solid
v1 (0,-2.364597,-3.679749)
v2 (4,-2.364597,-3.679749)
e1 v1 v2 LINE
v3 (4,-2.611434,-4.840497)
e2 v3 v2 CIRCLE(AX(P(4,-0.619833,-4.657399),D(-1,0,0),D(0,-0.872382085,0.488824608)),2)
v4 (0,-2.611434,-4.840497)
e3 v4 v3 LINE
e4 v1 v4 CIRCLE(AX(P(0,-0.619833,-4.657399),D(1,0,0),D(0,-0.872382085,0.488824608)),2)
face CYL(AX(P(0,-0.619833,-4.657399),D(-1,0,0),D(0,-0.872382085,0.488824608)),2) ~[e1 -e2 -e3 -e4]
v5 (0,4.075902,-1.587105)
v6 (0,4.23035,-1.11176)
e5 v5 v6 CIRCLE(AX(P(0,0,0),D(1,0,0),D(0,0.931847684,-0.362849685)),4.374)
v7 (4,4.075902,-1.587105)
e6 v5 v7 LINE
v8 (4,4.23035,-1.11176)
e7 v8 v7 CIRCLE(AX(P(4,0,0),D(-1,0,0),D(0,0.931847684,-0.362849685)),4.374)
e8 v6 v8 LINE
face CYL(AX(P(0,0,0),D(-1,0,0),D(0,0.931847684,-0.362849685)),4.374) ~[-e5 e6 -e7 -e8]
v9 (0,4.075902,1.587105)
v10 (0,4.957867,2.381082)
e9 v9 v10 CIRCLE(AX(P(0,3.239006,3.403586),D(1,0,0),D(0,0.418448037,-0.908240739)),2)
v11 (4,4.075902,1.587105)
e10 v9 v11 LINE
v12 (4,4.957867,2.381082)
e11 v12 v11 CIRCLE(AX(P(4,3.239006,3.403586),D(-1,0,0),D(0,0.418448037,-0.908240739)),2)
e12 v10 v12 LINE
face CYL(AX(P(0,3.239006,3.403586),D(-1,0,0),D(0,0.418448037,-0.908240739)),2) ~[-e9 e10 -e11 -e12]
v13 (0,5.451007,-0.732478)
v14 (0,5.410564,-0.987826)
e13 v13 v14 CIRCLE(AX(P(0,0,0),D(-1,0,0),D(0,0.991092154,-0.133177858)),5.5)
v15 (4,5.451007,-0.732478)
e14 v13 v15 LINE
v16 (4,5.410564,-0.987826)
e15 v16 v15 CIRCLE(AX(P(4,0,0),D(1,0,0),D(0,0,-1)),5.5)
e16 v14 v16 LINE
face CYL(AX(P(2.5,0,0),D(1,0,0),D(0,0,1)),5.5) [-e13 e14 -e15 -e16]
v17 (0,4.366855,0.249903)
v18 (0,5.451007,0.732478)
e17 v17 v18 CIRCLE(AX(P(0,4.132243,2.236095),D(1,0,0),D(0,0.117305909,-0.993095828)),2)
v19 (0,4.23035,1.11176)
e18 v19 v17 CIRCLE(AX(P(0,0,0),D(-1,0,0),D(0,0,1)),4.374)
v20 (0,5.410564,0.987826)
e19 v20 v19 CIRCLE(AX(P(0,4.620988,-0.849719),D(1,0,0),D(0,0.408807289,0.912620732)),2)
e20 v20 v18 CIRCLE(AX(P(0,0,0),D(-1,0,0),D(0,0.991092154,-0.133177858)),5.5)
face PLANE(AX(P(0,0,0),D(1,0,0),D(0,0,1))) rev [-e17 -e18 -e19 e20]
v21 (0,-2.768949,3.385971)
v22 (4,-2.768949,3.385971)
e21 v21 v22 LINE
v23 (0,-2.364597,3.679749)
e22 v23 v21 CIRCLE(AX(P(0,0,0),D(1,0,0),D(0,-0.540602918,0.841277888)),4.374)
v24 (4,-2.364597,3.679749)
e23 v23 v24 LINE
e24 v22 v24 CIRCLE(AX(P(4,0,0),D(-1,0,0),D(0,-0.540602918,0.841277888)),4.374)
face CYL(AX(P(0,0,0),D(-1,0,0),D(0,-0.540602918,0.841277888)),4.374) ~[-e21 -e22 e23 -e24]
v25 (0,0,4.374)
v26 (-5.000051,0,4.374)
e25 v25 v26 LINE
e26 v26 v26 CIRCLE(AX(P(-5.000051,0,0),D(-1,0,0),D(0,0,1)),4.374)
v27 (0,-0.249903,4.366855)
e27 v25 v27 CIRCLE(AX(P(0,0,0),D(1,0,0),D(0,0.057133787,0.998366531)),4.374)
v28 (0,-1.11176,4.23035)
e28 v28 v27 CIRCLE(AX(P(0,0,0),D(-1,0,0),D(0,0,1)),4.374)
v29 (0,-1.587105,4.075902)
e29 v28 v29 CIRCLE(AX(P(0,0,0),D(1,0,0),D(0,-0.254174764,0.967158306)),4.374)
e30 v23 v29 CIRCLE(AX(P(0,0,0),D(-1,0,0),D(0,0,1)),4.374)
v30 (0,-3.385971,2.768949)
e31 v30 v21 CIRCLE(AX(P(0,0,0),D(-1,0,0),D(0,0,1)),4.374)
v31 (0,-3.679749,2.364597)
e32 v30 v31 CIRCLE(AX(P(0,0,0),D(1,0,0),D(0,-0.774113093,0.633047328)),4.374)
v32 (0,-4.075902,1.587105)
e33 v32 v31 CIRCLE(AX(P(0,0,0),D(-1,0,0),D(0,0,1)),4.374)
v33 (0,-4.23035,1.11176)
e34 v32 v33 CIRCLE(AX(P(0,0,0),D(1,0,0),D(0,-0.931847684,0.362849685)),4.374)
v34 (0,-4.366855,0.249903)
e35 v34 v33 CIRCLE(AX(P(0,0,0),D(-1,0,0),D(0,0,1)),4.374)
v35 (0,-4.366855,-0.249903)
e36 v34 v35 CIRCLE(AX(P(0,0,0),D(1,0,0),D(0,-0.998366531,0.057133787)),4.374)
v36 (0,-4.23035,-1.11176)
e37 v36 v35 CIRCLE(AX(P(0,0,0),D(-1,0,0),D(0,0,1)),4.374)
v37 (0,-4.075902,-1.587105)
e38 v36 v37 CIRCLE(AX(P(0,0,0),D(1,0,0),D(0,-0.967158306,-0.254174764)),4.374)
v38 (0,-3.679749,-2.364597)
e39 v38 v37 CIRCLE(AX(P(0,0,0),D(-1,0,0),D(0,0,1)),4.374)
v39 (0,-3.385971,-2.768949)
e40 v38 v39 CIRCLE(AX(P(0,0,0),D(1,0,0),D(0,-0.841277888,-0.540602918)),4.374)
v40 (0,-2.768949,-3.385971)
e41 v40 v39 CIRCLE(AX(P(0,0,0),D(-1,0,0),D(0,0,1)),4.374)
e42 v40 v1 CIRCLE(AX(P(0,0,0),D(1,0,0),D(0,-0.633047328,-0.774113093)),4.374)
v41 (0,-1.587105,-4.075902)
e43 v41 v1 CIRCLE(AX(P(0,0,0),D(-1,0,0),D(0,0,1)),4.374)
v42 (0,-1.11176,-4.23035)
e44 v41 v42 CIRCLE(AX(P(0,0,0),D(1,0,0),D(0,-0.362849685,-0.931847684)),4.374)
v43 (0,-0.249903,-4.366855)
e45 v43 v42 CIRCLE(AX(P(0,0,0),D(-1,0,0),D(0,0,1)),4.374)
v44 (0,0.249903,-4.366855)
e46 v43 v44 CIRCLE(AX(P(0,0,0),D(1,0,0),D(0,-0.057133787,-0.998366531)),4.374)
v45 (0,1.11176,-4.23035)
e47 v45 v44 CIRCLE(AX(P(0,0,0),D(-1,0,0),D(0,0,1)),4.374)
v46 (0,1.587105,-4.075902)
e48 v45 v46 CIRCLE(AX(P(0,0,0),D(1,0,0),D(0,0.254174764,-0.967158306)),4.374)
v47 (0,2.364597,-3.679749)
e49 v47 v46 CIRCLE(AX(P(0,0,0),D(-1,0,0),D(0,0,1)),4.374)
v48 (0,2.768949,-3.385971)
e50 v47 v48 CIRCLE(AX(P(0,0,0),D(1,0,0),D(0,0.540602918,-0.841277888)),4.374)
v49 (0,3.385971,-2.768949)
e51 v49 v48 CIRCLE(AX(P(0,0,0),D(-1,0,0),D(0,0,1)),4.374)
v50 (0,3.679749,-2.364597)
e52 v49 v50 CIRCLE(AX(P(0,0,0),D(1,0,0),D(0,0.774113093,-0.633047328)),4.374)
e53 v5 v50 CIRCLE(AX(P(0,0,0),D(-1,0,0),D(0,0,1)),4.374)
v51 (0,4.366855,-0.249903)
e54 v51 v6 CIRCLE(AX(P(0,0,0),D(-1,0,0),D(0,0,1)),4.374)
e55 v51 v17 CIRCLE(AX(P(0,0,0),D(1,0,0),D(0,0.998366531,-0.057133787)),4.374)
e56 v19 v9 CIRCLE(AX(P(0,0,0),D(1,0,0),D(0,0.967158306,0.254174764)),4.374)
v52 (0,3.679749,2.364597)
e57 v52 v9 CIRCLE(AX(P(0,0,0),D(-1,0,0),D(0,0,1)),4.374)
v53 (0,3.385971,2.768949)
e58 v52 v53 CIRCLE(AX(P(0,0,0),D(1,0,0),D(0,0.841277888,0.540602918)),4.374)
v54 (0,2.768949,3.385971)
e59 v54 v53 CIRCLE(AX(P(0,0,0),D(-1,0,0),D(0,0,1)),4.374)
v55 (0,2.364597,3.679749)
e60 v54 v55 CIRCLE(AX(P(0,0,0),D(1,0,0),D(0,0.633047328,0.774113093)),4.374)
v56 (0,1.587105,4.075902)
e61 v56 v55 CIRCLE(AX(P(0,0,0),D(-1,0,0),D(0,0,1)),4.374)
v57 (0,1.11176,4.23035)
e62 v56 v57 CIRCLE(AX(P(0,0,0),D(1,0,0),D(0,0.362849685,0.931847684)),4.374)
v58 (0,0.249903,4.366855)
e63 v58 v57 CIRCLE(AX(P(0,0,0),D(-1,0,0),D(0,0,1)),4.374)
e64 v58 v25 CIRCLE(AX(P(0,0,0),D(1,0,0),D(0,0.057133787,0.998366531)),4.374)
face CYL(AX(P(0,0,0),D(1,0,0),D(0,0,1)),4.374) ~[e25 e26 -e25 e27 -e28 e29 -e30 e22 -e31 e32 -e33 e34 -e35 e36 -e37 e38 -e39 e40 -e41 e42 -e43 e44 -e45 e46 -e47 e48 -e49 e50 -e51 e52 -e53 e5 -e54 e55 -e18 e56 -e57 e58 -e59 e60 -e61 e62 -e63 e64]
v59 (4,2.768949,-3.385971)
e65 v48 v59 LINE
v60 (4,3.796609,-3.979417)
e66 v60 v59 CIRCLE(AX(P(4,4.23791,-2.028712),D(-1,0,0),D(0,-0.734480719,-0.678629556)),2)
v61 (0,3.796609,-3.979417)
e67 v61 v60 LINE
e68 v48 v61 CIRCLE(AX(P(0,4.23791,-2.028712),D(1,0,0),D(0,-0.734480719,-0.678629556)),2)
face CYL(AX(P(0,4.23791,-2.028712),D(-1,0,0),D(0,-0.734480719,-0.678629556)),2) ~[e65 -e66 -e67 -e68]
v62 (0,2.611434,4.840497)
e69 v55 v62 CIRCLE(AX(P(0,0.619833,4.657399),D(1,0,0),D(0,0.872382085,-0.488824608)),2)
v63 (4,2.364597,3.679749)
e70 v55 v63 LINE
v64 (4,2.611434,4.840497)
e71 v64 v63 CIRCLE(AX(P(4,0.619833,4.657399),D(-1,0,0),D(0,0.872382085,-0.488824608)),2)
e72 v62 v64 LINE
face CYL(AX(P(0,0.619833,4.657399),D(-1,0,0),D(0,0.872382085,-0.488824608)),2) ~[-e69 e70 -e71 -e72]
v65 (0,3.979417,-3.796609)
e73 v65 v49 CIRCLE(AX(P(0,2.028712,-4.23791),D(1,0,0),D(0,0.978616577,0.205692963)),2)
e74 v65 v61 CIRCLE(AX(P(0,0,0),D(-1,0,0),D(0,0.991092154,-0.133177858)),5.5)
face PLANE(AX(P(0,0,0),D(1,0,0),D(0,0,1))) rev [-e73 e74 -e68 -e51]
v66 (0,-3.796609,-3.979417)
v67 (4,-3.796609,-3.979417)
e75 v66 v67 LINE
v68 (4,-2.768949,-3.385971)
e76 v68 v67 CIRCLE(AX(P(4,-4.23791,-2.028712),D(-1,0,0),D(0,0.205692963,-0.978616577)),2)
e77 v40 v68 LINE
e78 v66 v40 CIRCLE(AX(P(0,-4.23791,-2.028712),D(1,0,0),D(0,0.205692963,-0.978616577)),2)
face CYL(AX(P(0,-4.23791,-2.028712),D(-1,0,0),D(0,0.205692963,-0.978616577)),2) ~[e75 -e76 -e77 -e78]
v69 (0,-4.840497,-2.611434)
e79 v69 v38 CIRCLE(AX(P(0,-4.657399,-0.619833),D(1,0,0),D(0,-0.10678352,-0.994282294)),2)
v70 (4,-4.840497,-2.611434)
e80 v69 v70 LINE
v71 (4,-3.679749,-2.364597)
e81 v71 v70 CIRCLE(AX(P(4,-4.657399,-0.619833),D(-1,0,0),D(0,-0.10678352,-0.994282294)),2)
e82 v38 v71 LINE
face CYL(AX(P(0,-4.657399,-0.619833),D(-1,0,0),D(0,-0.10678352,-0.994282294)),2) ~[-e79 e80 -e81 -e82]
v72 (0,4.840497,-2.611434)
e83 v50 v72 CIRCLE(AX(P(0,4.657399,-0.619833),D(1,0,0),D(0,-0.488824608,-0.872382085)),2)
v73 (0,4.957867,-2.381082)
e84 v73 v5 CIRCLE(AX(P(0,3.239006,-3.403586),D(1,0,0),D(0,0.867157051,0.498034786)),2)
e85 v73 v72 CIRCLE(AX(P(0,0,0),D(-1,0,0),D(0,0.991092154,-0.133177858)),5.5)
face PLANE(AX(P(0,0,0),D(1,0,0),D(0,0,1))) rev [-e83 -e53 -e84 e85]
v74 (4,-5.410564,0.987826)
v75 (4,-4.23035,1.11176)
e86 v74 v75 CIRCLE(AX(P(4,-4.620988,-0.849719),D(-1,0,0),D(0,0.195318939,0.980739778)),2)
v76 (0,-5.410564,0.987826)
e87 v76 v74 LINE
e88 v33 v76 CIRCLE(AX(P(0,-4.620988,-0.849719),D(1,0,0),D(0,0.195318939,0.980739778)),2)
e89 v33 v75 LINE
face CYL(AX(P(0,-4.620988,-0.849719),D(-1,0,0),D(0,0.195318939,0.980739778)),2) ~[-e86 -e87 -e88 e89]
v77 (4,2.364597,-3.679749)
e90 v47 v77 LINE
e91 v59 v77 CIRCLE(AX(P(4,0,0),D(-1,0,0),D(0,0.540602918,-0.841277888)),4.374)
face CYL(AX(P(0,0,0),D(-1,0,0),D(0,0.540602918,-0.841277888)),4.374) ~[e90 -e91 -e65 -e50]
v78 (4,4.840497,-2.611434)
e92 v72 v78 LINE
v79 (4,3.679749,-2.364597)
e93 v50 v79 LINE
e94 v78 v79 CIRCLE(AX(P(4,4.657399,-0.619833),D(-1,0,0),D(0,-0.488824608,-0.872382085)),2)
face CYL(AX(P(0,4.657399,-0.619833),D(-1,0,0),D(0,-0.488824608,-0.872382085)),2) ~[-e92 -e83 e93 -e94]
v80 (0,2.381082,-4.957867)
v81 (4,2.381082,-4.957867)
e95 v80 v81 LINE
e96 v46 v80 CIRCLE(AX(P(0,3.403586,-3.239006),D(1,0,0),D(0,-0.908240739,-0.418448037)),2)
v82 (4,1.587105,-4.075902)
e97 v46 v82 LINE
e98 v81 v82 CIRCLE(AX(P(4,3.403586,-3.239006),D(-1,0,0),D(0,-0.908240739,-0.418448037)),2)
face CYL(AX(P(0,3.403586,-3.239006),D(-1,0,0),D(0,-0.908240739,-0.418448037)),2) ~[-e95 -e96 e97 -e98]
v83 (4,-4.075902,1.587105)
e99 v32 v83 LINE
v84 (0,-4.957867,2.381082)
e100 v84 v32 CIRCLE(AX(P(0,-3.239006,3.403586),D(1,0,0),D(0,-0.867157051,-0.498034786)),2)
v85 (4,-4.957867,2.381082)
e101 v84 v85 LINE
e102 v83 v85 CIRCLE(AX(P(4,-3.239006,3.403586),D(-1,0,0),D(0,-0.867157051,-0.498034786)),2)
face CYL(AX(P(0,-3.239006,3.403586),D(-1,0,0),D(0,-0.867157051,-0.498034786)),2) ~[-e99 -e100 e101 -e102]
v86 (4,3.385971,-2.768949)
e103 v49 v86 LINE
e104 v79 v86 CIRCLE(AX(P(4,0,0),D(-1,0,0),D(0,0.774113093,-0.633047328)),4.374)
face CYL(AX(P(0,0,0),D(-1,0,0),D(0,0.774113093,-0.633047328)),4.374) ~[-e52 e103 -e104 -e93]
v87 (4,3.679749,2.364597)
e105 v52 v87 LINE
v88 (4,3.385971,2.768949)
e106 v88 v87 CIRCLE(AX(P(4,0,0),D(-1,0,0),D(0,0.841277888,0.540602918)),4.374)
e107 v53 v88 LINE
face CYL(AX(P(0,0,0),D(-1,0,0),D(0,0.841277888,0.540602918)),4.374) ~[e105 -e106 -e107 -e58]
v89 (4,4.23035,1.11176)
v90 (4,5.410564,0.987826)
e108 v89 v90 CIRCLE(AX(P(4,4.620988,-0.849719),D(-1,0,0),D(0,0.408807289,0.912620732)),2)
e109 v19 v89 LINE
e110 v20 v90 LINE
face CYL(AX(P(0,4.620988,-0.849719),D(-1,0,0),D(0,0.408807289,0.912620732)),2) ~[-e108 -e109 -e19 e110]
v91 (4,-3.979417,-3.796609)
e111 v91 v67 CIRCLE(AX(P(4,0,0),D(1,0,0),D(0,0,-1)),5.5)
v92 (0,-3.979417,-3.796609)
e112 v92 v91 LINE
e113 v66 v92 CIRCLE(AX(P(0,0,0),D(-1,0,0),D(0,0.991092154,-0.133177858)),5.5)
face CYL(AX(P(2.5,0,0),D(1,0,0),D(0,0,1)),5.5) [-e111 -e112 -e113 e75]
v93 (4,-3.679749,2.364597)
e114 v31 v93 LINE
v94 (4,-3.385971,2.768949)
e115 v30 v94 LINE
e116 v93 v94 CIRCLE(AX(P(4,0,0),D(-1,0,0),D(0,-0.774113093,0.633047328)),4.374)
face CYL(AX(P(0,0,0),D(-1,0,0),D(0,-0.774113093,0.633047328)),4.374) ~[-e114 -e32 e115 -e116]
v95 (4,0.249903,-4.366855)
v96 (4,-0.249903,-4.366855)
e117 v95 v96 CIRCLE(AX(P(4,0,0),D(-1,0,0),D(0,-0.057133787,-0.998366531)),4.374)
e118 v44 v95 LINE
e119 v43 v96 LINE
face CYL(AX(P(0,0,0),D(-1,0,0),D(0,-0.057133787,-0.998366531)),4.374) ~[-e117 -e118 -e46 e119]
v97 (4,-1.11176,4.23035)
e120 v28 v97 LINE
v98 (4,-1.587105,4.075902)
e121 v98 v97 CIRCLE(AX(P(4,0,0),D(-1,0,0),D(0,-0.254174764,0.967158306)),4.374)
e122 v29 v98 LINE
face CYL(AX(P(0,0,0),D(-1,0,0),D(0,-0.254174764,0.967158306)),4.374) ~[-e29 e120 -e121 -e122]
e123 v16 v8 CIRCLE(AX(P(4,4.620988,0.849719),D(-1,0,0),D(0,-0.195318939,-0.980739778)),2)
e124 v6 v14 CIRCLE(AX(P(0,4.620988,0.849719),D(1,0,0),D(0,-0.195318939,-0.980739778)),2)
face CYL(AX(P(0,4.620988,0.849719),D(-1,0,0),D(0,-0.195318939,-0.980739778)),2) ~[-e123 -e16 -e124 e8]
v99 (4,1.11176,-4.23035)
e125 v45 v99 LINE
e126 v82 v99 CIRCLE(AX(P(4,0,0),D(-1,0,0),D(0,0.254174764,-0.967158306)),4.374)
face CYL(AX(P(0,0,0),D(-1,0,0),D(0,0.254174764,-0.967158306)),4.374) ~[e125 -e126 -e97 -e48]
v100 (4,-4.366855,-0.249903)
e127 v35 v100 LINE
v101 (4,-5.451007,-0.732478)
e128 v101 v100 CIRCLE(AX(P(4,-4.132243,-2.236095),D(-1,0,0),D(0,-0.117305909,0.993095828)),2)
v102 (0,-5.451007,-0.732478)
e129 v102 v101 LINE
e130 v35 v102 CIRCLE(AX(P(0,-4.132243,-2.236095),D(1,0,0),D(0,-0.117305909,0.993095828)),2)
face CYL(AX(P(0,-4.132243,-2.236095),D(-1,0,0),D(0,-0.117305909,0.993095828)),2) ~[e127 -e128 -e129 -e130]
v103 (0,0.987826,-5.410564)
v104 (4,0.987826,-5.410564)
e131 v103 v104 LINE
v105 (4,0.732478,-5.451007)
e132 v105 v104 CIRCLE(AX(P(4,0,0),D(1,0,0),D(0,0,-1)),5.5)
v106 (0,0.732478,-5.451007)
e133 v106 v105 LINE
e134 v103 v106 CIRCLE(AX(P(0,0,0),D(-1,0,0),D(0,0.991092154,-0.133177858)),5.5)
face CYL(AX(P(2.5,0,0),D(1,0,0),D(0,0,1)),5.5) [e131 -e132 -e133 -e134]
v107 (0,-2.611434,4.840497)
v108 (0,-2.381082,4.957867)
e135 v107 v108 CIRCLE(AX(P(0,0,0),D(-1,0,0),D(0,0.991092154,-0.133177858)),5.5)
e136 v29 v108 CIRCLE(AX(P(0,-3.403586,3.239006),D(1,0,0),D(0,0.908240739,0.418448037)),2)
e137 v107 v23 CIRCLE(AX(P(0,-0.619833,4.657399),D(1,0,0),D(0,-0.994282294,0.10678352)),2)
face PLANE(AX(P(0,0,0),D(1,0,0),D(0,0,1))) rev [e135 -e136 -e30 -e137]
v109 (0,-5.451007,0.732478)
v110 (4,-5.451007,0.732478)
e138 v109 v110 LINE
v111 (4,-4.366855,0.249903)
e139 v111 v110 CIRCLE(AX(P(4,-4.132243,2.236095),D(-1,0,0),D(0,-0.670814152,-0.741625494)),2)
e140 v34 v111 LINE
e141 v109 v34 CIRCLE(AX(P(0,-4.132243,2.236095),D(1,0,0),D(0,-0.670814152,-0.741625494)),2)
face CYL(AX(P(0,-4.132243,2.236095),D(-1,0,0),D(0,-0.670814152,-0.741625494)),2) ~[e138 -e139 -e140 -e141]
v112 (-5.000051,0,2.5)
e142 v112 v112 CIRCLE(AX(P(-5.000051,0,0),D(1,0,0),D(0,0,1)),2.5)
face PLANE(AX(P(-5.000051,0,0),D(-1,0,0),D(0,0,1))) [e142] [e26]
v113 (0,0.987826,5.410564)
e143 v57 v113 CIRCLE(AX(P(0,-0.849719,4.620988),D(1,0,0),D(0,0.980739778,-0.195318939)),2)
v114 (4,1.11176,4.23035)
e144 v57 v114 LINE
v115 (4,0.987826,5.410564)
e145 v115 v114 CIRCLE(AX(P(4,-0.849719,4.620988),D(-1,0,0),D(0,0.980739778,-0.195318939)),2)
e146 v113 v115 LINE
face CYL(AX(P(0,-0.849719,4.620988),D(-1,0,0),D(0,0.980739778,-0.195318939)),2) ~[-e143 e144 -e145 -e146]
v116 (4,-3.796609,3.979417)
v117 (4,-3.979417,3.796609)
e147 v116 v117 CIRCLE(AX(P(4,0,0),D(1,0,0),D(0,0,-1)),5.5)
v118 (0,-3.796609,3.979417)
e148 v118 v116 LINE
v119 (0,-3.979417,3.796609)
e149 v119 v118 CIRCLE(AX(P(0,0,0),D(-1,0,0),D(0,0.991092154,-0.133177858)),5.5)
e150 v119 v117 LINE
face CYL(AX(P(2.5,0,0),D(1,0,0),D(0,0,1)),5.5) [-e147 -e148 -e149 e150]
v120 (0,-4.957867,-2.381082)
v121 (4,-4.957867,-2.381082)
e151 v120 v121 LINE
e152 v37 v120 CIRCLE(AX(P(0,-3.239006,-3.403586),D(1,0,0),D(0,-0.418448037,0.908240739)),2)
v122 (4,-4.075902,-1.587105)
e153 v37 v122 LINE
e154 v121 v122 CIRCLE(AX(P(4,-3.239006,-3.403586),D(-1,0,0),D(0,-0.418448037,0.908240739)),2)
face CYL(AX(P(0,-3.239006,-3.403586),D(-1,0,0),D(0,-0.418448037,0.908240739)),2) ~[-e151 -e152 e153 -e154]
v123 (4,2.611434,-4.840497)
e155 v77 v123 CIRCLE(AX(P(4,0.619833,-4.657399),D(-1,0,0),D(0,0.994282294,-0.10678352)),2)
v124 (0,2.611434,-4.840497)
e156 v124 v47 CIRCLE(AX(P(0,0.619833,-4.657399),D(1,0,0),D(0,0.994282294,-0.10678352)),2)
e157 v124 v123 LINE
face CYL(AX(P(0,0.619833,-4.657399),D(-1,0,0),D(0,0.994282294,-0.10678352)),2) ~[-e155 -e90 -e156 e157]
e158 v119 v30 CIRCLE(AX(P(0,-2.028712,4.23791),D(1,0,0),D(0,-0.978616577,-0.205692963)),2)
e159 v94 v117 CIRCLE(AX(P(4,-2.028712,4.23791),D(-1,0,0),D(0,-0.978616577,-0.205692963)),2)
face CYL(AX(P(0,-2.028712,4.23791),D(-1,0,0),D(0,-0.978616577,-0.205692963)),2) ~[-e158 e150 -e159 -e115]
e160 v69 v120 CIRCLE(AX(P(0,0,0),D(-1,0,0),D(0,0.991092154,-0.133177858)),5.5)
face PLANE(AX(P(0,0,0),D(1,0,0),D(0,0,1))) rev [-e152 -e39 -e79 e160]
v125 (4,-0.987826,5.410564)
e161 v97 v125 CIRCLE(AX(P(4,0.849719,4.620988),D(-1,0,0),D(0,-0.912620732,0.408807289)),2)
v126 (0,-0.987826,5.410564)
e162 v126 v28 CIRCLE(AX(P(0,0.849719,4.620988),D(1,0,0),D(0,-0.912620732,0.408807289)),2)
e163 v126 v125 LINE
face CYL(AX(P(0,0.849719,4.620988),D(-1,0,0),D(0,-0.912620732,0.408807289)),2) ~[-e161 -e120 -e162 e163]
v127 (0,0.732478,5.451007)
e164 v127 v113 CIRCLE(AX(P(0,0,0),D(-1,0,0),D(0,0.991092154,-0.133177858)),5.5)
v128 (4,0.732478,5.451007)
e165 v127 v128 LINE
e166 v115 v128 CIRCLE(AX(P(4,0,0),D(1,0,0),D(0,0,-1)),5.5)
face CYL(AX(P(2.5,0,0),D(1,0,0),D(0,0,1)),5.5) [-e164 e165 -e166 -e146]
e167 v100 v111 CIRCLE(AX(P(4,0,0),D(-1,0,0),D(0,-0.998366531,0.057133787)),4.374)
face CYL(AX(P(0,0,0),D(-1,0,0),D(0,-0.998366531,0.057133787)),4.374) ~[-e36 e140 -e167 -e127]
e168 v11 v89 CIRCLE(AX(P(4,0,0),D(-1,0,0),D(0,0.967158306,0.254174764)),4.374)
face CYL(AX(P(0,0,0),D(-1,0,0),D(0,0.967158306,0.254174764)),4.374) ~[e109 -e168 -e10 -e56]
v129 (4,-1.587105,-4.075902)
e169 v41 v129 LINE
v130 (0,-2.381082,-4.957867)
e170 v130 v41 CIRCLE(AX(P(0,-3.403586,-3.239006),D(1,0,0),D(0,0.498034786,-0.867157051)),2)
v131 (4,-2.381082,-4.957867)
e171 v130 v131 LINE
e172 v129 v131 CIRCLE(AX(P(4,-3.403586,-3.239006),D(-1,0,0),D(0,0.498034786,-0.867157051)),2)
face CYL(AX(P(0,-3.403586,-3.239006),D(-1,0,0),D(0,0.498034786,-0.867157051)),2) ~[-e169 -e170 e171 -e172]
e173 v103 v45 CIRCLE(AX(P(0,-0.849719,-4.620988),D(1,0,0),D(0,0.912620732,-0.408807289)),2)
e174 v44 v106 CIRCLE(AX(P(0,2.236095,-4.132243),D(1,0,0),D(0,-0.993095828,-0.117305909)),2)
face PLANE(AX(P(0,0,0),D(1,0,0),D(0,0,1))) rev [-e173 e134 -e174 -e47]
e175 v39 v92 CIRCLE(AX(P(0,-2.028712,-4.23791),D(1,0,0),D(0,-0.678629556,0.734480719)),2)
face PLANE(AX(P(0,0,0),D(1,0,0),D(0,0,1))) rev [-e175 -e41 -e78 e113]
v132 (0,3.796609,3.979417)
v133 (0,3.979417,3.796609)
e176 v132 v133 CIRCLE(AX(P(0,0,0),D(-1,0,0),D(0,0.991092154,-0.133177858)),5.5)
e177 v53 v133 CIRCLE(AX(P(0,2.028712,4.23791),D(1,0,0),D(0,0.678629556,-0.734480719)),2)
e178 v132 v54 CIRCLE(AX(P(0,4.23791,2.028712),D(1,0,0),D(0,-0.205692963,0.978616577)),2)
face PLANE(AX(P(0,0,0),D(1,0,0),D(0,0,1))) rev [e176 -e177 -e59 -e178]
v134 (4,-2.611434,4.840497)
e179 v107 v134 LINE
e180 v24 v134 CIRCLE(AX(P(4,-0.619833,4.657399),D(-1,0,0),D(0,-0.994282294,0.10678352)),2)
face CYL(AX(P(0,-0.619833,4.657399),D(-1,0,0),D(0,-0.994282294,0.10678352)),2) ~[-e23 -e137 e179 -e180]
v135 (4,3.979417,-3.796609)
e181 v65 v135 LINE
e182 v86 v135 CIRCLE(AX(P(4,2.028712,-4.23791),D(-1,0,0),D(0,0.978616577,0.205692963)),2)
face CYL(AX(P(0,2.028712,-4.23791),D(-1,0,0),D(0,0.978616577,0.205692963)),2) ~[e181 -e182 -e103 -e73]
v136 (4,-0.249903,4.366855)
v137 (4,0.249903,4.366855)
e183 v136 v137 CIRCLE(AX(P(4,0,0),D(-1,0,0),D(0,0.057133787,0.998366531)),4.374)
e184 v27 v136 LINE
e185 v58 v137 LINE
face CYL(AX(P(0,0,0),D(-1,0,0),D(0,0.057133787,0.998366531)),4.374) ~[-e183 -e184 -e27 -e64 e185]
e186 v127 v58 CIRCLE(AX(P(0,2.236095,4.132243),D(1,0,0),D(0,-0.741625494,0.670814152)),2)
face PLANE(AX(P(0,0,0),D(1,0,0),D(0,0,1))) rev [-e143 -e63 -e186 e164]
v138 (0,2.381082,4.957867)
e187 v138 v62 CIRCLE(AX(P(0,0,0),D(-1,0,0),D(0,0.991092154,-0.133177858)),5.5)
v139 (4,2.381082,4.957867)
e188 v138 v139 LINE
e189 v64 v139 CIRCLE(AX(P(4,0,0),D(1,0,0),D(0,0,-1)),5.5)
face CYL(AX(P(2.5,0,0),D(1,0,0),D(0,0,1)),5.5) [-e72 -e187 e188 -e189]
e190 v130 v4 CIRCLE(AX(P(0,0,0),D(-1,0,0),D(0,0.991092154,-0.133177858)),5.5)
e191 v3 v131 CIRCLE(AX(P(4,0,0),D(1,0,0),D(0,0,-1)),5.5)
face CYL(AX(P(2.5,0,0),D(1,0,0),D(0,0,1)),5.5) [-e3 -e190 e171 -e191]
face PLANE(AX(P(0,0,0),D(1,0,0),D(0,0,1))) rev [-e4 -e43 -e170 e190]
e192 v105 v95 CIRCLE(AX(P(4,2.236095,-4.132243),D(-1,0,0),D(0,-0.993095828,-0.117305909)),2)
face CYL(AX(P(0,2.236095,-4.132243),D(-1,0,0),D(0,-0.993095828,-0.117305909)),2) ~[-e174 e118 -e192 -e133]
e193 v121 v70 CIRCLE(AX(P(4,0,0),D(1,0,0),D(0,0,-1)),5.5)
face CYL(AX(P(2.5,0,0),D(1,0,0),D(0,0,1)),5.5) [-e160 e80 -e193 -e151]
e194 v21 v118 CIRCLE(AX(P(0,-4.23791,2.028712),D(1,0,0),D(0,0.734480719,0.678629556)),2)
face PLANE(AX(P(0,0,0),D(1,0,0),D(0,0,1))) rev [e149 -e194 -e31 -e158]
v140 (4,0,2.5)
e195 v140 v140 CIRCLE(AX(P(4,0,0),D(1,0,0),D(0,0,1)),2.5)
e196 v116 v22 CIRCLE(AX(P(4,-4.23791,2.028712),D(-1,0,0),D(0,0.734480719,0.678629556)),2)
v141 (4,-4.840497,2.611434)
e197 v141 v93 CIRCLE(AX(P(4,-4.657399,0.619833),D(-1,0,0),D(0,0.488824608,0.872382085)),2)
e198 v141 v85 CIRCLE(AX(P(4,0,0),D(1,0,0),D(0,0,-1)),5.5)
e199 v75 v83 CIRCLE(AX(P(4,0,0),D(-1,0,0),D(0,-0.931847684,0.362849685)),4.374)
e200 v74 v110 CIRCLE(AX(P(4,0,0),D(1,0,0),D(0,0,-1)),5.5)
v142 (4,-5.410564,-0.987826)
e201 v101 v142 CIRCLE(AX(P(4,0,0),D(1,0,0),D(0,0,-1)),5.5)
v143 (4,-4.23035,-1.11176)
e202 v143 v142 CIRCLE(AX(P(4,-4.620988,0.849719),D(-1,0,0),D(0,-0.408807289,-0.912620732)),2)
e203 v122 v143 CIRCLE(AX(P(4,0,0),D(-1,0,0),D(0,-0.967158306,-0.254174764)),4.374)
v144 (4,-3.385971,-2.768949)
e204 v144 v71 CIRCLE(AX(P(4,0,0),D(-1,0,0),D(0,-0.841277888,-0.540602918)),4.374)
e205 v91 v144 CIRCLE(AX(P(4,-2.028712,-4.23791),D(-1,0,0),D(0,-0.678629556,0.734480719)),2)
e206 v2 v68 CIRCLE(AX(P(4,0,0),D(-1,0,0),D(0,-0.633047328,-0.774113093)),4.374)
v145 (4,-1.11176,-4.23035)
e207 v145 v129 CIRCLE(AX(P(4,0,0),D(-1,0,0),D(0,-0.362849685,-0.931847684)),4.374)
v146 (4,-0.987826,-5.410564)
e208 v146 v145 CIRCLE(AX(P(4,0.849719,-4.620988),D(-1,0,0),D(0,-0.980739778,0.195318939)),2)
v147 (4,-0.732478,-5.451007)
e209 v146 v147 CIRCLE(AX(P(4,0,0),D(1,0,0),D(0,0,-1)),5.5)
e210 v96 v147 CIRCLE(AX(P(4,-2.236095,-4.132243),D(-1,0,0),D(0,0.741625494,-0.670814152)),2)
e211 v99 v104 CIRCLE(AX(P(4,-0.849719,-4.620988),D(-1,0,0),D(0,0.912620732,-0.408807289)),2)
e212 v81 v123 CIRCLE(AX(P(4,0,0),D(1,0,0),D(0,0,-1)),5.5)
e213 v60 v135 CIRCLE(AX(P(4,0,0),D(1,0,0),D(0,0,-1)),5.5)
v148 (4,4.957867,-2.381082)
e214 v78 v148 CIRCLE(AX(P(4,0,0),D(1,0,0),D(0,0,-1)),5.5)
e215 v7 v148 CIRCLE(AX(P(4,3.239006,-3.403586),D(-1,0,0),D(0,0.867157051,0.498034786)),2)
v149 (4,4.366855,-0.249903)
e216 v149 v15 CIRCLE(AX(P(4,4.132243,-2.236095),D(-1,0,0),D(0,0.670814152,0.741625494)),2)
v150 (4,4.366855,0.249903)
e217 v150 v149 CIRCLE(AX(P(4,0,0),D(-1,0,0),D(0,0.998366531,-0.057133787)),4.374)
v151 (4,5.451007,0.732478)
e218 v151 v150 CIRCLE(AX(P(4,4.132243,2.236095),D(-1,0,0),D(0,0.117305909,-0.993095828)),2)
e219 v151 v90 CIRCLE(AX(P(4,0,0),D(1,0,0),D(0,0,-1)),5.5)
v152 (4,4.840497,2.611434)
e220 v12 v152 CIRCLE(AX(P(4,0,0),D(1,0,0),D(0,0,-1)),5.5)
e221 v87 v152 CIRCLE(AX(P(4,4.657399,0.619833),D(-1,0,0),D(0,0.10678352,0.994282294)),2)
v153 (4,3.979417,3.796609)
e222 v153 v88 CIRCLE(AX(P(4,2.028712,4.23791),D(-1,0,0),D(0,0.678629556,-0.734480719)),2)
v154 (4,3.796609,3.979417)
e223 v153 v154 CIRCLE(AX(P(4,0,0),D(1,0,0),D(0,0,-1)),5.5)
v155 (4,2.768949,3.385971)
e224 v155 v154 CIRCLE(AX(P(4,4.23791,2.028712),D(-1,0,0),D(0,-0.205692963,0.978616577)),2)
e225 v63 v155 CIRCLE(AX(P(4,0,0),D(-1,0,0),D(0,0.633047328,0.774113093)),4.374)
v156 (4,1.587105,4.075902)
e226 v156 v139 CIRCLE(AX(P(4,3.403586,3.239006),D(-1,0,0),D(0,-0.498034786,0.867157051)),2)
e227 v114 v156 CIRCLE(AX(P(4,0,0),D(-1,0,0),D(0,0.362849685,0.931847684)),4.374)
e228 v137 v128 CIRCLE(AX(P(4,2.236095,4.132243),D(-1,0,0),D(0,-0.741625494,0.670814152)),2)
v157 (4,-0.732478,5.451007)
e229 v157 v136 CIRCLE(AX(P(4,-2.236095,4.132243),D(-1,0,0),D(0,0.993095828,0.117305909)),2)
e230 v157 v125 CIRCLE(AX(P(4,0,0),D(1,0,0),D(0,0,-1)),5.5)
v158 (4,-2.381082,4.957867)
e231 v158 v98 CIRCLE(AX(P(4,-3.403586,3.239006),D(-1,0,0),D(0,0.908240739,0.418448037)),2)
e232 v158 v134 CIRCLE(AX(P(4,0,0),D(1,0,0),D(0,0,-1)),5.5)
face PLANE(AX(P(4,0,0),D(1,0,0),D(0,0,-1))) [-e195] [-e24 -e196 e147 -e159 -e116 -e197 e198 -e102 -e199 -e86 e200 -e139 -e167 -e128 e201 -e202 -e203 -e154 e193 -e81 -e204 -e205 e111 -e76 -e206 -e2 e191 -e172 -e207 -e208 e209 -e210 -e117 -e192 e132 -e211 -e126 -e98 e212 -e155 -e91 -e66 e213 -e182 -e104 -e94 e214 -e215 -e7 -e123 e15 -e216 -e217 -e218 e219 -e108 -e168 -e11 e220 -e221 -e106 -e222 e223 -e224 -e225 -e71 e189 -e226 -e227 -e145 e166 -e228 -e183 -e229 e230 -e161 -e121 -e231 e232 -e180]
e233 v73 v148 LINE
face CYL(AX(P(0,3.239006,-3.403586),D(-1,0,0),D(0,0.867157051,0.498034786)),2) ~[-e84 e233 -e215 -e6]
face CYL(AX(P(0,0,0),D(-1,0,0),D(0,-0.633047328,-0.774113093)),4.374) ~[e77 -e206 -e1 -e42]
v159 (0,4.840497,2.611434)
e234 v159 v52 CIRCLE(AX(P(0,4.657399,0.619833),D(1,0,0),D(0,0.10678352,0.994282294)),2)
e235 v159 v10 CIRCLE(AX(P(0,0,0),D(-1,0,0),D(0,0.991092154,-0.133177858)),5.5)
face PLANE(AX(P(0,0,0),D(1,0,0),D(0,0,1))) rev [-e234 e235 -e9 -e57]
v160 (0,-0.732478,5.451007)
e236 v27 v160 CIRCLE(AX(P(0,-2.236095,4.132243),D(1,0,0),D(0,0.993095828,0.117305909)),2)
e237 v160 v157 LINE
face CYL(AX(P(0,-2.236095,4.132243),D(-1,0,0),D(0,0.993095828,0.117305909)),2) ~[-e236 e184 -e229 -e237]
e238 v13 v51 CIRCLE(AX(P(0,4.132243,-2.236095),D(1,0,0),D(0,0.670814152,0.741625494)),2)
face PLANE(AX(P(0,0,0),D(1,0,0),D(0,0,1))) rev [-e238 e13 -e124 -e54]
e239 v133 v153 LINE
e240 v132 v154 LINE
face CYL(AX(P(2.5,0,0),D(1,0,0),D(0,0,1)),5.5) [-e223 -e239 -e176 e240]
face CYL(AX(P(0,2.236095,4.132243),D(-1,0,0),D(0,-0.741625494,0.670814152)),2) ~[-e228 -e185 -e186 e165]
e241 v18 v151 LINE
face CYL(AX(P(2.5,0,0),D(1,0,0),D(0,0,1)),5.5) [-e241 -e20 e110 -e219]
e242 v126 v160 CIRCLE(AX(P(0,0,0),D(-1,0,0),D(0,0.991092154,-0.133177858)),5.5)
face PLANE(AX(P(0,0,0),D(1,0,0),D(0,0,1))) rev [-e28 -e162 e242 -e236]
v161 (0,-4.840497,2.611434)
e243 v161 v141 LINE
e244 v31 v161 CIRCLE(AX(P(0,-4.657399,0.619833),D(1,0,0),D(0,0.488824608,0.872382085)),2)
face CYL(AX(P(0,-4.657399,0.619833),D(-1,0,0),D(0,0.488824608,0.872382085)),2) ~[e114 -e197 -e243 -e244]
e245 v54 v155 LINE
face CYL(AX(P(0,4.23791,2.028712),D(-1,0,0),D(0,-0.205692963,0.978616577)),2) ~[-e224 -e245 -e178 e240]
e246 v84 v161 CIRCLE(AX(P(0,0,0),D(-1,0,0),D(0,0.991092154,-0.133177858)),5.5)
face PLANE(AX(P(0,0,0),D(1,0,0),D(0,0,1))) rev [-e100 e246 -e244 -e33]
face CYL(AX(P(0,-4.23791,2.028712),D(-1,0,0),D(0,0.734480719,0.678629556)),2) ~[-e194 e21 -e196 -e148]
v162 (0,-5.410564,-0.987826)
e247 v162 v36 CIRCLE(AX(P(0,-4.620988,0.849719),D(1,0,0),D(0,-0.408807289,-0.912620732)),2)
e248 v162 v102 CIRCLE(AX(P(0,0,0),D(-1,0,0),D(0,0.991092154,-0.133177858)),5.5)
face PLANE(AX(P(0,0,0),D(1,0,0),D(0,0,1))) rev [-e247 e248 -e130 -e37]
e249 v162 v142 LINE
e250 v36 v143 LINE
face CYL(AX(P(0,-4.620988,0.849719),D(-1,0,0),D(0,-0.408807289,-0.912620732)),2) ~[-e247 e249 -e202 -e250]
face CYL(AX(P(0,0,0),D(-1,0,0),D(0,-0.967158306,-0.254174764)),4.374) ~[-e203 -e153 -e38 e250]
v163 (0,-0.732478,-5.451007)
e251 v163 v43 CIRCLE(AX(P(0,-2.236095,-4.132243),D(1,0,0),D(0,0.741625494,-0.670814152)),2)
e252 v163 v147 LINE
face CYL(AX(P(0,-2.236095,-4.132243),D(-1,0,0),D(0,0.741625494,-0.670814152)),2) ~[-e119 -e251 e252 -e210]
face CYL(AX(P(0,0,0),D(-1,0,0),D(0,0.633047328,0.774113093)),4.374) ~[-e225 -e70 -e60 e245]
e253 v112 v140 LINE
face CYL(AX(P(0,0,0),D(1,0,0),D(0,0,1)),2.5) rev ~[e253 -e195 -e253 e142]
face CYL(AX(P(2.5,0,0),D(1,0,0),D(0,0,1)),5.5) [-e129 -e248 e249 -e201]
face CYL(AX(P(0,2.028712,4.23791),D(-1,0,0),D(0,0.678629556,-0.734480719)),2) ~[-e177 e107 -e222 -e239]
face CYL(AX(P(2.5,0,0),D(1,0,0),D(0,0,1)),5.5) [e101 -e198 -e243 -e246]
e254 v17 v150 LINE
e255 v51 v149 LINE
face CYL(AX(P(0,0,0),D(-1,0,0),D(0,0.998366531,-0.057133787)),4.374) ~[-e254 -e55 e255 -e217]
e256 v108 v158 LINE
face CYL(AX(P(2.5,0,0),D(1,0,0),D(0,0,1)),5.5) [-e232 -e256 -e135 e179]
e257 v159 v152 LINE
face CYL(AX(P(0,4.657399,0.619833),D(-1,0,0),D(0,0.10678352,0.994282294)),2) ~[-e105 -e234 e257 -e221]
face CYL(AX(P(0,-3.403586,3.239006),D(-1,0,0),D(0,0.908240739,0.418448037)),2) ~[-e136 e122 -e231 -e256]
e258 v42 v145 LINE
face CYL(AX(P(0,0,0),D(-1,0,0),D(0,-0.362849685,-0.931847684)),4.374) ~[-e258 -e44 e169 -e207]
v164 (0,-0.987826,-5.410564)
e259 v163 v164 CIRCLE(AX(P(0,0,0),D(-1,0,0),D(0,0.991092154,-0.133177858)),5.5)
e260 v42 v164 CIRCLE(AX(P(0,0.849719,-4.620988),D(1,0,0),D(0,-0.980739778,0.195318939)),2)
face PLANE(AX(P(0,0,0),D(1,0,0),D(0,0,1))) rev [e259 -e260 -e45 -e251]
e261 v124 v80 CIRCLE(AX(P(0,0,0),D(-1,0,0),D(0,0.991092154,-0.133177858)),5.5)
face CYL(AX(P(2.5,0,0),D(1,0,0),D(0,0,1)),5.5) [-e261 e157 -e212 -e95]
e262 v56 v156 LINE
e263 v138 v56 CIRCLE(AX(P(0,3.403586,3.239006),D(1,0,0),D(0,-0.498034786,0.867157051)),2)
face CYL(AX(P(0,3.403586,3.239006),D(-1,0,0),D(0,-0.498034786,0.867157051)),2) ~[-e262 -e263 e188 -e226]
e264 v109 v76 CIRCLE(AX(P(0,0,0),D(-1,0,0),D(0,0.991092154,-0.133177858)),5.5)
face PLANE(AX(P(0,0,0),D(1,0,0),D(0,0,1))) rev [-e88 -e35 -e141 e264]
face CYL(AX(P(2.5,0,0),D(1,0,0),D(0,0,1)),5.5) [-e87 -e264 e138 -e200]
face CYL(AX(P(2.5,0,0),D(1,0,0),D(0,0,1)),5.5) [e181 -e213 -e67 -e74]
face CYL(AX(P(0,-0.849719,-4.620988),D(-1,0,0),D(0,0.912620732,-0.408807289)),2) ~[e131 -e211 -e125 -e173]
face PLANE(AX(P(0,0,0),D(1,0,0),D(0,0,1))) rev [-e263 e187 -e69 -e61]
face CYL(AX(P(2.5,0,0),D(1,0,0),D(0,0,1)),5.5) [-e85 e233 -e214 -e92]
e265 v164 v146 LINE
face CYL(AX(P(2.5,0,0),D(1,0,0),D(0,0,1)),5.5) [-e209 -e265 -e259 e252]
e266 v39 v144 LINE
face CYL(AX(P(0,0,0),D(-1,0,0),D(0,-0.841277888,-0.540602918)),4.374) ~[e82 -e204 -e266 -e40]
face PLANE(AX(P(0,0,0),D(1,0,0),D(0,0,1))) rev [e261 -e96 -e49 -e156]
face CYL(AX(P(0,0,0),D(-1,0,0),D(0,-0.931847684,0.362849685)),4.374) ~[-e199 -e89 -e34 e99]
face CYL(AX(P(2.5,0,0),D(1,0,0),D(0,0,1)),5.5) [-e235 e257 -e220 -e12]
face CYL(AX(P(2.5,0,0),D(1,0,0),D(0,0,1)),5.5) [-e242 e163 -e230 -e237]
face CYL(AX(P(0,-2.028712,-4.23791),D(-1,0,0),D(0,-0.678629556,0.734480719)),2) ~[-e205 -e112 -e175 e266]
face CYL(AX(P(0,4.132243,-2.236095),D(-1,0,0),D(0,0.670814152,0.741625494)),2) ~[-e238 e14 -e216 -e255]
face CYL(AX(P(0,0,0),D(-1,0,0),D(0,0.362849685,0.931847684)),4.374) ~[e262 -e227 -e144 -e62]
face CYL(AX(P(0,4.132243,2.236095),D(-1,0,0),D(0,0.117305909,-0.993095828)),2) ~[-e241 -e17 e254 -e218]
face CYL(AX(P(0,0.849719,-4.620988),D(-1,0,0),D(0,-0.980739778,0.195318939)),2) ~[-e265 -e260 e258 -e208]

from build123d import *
from build123d.topology import SkipClean

# Parameters (mm, degrees)
BASPROSKE_W         = 5
BASPROSKE_H         = 5.5
TOOTHCUT_DEPTH      = 10.246621004
TEETHCUTS_COUNT     = 20
TEETHCUTS_ANGLE     = 342
HUBNEAONESKE_R      = 4.374
HUBNEARONE_DEPTH    = 5.0000508
BORSKE_R            = 2.5
BORE_DEPTH          = 10.0000508
SKETCH_1_R          = 5.5
CUT_EXTRUDE_1_DEPTH = 1


with BuildPart() as part:
    # BasProSke → Base-Revolve (revolve)
    with BuildSketch(Plane(origin=(0, 0, 0), x_dir=(1, 0, 0), z_dir=(0, 1, 0)), mode=Mode.PRIVATE) as base_revolve_sk:
        with Locations((2.5, 2.75)):
            Rectangle(BASPROSKE_W, BASPROSKE_H)
    revolve(base_revolve_sk.sketch.rotate(Axis((-10, 0, 0), (1, 0, 0)), 180), axis=Axis((-10, 0, 0), (1, 0, 0)))

    # TooCutSke → ToothCut (cut, through all)
    with BuildSketch(Plane(origin=(0, 0, 0), x_dir=(0, 0, -1), z_dir=(1, 0, 0))):
        with BuildLine():
            ThreePointArc((0.249903181, 4.366855207), (0, 4.374), (-0.249903181, 4.366855207))
            ThreePointArc((-0.249903181, 4.366855207), (-0.415207844, 4.95951031), (-0.752843848, 5.473871692))
            ThreePointArc((-0.752843848, 5.473871692), (0, 5.5254), (0.752843848, 5.473871692))
            ThreePointArc((0.752843848, 5.473871692), (0.415207844, 4.95951031), (0.249903181, 4.366855207))
        make_face()
    toothcut = extrude(amount=TOOTHCUT_DEPTH, mode=Mode.SUBTRACT)

    # TeethCuts: ToothCut ×20 about axis
    teethcuts_axis = Axis((-10, 0, 0), (1, 0, 0))
    for i in range(1, TEETHCUTS_COUNT):
        add(toothcut.rotate(teethcuts_axis, i * TEETHCUTS_ANGLE / (TEETHCUTS_COUNT - 1)), mode=Mode.SUBTRACT)

    # HubNeaOneSke → HubNearOne (add)
    with SkipClean():  # the faces are left unmerged after this step: merging them gives an invalid solid
        with BuildSketch(Plane.ZY):
            Circle(HUBNEAONESKE_R)
        extrude(amount=HUBNEARONE_DEPTH)

    # BorSke → Bore (cut, symmetric)
    with SkipClean():  # the faces are left unmerged after this step: merging them gives an invalid solid
        with BuildSketch(Plane(origin=(0, 0, 0), x_dir=(0, 0, -1), z_dir=(1, 0, 0))):
            with Locations(Location((0, 0, 0), (0, 0, 180))):
                Circle(BORSKE_R)
        extrude(amount=BORE_DEPTH, both=True, mode=Mode.SUBTRACT)

    # 草图1 → 切除-拉伸1 (cut)
    with SkipClean():  # the faces are left unmerged after this step: merging them gives an invalid solid
        with BuildSketch(Plane(origin=(5, 0, 0), x_dir=(0, 0, -1), z_dir=(1, 0, 0))):
            Circle(SKETCH_1_R)
        extrude(amount=-CUT_EXTRUDE_1_DEPTH, mode=Mode.SUBTRACT)


solid = part.part
